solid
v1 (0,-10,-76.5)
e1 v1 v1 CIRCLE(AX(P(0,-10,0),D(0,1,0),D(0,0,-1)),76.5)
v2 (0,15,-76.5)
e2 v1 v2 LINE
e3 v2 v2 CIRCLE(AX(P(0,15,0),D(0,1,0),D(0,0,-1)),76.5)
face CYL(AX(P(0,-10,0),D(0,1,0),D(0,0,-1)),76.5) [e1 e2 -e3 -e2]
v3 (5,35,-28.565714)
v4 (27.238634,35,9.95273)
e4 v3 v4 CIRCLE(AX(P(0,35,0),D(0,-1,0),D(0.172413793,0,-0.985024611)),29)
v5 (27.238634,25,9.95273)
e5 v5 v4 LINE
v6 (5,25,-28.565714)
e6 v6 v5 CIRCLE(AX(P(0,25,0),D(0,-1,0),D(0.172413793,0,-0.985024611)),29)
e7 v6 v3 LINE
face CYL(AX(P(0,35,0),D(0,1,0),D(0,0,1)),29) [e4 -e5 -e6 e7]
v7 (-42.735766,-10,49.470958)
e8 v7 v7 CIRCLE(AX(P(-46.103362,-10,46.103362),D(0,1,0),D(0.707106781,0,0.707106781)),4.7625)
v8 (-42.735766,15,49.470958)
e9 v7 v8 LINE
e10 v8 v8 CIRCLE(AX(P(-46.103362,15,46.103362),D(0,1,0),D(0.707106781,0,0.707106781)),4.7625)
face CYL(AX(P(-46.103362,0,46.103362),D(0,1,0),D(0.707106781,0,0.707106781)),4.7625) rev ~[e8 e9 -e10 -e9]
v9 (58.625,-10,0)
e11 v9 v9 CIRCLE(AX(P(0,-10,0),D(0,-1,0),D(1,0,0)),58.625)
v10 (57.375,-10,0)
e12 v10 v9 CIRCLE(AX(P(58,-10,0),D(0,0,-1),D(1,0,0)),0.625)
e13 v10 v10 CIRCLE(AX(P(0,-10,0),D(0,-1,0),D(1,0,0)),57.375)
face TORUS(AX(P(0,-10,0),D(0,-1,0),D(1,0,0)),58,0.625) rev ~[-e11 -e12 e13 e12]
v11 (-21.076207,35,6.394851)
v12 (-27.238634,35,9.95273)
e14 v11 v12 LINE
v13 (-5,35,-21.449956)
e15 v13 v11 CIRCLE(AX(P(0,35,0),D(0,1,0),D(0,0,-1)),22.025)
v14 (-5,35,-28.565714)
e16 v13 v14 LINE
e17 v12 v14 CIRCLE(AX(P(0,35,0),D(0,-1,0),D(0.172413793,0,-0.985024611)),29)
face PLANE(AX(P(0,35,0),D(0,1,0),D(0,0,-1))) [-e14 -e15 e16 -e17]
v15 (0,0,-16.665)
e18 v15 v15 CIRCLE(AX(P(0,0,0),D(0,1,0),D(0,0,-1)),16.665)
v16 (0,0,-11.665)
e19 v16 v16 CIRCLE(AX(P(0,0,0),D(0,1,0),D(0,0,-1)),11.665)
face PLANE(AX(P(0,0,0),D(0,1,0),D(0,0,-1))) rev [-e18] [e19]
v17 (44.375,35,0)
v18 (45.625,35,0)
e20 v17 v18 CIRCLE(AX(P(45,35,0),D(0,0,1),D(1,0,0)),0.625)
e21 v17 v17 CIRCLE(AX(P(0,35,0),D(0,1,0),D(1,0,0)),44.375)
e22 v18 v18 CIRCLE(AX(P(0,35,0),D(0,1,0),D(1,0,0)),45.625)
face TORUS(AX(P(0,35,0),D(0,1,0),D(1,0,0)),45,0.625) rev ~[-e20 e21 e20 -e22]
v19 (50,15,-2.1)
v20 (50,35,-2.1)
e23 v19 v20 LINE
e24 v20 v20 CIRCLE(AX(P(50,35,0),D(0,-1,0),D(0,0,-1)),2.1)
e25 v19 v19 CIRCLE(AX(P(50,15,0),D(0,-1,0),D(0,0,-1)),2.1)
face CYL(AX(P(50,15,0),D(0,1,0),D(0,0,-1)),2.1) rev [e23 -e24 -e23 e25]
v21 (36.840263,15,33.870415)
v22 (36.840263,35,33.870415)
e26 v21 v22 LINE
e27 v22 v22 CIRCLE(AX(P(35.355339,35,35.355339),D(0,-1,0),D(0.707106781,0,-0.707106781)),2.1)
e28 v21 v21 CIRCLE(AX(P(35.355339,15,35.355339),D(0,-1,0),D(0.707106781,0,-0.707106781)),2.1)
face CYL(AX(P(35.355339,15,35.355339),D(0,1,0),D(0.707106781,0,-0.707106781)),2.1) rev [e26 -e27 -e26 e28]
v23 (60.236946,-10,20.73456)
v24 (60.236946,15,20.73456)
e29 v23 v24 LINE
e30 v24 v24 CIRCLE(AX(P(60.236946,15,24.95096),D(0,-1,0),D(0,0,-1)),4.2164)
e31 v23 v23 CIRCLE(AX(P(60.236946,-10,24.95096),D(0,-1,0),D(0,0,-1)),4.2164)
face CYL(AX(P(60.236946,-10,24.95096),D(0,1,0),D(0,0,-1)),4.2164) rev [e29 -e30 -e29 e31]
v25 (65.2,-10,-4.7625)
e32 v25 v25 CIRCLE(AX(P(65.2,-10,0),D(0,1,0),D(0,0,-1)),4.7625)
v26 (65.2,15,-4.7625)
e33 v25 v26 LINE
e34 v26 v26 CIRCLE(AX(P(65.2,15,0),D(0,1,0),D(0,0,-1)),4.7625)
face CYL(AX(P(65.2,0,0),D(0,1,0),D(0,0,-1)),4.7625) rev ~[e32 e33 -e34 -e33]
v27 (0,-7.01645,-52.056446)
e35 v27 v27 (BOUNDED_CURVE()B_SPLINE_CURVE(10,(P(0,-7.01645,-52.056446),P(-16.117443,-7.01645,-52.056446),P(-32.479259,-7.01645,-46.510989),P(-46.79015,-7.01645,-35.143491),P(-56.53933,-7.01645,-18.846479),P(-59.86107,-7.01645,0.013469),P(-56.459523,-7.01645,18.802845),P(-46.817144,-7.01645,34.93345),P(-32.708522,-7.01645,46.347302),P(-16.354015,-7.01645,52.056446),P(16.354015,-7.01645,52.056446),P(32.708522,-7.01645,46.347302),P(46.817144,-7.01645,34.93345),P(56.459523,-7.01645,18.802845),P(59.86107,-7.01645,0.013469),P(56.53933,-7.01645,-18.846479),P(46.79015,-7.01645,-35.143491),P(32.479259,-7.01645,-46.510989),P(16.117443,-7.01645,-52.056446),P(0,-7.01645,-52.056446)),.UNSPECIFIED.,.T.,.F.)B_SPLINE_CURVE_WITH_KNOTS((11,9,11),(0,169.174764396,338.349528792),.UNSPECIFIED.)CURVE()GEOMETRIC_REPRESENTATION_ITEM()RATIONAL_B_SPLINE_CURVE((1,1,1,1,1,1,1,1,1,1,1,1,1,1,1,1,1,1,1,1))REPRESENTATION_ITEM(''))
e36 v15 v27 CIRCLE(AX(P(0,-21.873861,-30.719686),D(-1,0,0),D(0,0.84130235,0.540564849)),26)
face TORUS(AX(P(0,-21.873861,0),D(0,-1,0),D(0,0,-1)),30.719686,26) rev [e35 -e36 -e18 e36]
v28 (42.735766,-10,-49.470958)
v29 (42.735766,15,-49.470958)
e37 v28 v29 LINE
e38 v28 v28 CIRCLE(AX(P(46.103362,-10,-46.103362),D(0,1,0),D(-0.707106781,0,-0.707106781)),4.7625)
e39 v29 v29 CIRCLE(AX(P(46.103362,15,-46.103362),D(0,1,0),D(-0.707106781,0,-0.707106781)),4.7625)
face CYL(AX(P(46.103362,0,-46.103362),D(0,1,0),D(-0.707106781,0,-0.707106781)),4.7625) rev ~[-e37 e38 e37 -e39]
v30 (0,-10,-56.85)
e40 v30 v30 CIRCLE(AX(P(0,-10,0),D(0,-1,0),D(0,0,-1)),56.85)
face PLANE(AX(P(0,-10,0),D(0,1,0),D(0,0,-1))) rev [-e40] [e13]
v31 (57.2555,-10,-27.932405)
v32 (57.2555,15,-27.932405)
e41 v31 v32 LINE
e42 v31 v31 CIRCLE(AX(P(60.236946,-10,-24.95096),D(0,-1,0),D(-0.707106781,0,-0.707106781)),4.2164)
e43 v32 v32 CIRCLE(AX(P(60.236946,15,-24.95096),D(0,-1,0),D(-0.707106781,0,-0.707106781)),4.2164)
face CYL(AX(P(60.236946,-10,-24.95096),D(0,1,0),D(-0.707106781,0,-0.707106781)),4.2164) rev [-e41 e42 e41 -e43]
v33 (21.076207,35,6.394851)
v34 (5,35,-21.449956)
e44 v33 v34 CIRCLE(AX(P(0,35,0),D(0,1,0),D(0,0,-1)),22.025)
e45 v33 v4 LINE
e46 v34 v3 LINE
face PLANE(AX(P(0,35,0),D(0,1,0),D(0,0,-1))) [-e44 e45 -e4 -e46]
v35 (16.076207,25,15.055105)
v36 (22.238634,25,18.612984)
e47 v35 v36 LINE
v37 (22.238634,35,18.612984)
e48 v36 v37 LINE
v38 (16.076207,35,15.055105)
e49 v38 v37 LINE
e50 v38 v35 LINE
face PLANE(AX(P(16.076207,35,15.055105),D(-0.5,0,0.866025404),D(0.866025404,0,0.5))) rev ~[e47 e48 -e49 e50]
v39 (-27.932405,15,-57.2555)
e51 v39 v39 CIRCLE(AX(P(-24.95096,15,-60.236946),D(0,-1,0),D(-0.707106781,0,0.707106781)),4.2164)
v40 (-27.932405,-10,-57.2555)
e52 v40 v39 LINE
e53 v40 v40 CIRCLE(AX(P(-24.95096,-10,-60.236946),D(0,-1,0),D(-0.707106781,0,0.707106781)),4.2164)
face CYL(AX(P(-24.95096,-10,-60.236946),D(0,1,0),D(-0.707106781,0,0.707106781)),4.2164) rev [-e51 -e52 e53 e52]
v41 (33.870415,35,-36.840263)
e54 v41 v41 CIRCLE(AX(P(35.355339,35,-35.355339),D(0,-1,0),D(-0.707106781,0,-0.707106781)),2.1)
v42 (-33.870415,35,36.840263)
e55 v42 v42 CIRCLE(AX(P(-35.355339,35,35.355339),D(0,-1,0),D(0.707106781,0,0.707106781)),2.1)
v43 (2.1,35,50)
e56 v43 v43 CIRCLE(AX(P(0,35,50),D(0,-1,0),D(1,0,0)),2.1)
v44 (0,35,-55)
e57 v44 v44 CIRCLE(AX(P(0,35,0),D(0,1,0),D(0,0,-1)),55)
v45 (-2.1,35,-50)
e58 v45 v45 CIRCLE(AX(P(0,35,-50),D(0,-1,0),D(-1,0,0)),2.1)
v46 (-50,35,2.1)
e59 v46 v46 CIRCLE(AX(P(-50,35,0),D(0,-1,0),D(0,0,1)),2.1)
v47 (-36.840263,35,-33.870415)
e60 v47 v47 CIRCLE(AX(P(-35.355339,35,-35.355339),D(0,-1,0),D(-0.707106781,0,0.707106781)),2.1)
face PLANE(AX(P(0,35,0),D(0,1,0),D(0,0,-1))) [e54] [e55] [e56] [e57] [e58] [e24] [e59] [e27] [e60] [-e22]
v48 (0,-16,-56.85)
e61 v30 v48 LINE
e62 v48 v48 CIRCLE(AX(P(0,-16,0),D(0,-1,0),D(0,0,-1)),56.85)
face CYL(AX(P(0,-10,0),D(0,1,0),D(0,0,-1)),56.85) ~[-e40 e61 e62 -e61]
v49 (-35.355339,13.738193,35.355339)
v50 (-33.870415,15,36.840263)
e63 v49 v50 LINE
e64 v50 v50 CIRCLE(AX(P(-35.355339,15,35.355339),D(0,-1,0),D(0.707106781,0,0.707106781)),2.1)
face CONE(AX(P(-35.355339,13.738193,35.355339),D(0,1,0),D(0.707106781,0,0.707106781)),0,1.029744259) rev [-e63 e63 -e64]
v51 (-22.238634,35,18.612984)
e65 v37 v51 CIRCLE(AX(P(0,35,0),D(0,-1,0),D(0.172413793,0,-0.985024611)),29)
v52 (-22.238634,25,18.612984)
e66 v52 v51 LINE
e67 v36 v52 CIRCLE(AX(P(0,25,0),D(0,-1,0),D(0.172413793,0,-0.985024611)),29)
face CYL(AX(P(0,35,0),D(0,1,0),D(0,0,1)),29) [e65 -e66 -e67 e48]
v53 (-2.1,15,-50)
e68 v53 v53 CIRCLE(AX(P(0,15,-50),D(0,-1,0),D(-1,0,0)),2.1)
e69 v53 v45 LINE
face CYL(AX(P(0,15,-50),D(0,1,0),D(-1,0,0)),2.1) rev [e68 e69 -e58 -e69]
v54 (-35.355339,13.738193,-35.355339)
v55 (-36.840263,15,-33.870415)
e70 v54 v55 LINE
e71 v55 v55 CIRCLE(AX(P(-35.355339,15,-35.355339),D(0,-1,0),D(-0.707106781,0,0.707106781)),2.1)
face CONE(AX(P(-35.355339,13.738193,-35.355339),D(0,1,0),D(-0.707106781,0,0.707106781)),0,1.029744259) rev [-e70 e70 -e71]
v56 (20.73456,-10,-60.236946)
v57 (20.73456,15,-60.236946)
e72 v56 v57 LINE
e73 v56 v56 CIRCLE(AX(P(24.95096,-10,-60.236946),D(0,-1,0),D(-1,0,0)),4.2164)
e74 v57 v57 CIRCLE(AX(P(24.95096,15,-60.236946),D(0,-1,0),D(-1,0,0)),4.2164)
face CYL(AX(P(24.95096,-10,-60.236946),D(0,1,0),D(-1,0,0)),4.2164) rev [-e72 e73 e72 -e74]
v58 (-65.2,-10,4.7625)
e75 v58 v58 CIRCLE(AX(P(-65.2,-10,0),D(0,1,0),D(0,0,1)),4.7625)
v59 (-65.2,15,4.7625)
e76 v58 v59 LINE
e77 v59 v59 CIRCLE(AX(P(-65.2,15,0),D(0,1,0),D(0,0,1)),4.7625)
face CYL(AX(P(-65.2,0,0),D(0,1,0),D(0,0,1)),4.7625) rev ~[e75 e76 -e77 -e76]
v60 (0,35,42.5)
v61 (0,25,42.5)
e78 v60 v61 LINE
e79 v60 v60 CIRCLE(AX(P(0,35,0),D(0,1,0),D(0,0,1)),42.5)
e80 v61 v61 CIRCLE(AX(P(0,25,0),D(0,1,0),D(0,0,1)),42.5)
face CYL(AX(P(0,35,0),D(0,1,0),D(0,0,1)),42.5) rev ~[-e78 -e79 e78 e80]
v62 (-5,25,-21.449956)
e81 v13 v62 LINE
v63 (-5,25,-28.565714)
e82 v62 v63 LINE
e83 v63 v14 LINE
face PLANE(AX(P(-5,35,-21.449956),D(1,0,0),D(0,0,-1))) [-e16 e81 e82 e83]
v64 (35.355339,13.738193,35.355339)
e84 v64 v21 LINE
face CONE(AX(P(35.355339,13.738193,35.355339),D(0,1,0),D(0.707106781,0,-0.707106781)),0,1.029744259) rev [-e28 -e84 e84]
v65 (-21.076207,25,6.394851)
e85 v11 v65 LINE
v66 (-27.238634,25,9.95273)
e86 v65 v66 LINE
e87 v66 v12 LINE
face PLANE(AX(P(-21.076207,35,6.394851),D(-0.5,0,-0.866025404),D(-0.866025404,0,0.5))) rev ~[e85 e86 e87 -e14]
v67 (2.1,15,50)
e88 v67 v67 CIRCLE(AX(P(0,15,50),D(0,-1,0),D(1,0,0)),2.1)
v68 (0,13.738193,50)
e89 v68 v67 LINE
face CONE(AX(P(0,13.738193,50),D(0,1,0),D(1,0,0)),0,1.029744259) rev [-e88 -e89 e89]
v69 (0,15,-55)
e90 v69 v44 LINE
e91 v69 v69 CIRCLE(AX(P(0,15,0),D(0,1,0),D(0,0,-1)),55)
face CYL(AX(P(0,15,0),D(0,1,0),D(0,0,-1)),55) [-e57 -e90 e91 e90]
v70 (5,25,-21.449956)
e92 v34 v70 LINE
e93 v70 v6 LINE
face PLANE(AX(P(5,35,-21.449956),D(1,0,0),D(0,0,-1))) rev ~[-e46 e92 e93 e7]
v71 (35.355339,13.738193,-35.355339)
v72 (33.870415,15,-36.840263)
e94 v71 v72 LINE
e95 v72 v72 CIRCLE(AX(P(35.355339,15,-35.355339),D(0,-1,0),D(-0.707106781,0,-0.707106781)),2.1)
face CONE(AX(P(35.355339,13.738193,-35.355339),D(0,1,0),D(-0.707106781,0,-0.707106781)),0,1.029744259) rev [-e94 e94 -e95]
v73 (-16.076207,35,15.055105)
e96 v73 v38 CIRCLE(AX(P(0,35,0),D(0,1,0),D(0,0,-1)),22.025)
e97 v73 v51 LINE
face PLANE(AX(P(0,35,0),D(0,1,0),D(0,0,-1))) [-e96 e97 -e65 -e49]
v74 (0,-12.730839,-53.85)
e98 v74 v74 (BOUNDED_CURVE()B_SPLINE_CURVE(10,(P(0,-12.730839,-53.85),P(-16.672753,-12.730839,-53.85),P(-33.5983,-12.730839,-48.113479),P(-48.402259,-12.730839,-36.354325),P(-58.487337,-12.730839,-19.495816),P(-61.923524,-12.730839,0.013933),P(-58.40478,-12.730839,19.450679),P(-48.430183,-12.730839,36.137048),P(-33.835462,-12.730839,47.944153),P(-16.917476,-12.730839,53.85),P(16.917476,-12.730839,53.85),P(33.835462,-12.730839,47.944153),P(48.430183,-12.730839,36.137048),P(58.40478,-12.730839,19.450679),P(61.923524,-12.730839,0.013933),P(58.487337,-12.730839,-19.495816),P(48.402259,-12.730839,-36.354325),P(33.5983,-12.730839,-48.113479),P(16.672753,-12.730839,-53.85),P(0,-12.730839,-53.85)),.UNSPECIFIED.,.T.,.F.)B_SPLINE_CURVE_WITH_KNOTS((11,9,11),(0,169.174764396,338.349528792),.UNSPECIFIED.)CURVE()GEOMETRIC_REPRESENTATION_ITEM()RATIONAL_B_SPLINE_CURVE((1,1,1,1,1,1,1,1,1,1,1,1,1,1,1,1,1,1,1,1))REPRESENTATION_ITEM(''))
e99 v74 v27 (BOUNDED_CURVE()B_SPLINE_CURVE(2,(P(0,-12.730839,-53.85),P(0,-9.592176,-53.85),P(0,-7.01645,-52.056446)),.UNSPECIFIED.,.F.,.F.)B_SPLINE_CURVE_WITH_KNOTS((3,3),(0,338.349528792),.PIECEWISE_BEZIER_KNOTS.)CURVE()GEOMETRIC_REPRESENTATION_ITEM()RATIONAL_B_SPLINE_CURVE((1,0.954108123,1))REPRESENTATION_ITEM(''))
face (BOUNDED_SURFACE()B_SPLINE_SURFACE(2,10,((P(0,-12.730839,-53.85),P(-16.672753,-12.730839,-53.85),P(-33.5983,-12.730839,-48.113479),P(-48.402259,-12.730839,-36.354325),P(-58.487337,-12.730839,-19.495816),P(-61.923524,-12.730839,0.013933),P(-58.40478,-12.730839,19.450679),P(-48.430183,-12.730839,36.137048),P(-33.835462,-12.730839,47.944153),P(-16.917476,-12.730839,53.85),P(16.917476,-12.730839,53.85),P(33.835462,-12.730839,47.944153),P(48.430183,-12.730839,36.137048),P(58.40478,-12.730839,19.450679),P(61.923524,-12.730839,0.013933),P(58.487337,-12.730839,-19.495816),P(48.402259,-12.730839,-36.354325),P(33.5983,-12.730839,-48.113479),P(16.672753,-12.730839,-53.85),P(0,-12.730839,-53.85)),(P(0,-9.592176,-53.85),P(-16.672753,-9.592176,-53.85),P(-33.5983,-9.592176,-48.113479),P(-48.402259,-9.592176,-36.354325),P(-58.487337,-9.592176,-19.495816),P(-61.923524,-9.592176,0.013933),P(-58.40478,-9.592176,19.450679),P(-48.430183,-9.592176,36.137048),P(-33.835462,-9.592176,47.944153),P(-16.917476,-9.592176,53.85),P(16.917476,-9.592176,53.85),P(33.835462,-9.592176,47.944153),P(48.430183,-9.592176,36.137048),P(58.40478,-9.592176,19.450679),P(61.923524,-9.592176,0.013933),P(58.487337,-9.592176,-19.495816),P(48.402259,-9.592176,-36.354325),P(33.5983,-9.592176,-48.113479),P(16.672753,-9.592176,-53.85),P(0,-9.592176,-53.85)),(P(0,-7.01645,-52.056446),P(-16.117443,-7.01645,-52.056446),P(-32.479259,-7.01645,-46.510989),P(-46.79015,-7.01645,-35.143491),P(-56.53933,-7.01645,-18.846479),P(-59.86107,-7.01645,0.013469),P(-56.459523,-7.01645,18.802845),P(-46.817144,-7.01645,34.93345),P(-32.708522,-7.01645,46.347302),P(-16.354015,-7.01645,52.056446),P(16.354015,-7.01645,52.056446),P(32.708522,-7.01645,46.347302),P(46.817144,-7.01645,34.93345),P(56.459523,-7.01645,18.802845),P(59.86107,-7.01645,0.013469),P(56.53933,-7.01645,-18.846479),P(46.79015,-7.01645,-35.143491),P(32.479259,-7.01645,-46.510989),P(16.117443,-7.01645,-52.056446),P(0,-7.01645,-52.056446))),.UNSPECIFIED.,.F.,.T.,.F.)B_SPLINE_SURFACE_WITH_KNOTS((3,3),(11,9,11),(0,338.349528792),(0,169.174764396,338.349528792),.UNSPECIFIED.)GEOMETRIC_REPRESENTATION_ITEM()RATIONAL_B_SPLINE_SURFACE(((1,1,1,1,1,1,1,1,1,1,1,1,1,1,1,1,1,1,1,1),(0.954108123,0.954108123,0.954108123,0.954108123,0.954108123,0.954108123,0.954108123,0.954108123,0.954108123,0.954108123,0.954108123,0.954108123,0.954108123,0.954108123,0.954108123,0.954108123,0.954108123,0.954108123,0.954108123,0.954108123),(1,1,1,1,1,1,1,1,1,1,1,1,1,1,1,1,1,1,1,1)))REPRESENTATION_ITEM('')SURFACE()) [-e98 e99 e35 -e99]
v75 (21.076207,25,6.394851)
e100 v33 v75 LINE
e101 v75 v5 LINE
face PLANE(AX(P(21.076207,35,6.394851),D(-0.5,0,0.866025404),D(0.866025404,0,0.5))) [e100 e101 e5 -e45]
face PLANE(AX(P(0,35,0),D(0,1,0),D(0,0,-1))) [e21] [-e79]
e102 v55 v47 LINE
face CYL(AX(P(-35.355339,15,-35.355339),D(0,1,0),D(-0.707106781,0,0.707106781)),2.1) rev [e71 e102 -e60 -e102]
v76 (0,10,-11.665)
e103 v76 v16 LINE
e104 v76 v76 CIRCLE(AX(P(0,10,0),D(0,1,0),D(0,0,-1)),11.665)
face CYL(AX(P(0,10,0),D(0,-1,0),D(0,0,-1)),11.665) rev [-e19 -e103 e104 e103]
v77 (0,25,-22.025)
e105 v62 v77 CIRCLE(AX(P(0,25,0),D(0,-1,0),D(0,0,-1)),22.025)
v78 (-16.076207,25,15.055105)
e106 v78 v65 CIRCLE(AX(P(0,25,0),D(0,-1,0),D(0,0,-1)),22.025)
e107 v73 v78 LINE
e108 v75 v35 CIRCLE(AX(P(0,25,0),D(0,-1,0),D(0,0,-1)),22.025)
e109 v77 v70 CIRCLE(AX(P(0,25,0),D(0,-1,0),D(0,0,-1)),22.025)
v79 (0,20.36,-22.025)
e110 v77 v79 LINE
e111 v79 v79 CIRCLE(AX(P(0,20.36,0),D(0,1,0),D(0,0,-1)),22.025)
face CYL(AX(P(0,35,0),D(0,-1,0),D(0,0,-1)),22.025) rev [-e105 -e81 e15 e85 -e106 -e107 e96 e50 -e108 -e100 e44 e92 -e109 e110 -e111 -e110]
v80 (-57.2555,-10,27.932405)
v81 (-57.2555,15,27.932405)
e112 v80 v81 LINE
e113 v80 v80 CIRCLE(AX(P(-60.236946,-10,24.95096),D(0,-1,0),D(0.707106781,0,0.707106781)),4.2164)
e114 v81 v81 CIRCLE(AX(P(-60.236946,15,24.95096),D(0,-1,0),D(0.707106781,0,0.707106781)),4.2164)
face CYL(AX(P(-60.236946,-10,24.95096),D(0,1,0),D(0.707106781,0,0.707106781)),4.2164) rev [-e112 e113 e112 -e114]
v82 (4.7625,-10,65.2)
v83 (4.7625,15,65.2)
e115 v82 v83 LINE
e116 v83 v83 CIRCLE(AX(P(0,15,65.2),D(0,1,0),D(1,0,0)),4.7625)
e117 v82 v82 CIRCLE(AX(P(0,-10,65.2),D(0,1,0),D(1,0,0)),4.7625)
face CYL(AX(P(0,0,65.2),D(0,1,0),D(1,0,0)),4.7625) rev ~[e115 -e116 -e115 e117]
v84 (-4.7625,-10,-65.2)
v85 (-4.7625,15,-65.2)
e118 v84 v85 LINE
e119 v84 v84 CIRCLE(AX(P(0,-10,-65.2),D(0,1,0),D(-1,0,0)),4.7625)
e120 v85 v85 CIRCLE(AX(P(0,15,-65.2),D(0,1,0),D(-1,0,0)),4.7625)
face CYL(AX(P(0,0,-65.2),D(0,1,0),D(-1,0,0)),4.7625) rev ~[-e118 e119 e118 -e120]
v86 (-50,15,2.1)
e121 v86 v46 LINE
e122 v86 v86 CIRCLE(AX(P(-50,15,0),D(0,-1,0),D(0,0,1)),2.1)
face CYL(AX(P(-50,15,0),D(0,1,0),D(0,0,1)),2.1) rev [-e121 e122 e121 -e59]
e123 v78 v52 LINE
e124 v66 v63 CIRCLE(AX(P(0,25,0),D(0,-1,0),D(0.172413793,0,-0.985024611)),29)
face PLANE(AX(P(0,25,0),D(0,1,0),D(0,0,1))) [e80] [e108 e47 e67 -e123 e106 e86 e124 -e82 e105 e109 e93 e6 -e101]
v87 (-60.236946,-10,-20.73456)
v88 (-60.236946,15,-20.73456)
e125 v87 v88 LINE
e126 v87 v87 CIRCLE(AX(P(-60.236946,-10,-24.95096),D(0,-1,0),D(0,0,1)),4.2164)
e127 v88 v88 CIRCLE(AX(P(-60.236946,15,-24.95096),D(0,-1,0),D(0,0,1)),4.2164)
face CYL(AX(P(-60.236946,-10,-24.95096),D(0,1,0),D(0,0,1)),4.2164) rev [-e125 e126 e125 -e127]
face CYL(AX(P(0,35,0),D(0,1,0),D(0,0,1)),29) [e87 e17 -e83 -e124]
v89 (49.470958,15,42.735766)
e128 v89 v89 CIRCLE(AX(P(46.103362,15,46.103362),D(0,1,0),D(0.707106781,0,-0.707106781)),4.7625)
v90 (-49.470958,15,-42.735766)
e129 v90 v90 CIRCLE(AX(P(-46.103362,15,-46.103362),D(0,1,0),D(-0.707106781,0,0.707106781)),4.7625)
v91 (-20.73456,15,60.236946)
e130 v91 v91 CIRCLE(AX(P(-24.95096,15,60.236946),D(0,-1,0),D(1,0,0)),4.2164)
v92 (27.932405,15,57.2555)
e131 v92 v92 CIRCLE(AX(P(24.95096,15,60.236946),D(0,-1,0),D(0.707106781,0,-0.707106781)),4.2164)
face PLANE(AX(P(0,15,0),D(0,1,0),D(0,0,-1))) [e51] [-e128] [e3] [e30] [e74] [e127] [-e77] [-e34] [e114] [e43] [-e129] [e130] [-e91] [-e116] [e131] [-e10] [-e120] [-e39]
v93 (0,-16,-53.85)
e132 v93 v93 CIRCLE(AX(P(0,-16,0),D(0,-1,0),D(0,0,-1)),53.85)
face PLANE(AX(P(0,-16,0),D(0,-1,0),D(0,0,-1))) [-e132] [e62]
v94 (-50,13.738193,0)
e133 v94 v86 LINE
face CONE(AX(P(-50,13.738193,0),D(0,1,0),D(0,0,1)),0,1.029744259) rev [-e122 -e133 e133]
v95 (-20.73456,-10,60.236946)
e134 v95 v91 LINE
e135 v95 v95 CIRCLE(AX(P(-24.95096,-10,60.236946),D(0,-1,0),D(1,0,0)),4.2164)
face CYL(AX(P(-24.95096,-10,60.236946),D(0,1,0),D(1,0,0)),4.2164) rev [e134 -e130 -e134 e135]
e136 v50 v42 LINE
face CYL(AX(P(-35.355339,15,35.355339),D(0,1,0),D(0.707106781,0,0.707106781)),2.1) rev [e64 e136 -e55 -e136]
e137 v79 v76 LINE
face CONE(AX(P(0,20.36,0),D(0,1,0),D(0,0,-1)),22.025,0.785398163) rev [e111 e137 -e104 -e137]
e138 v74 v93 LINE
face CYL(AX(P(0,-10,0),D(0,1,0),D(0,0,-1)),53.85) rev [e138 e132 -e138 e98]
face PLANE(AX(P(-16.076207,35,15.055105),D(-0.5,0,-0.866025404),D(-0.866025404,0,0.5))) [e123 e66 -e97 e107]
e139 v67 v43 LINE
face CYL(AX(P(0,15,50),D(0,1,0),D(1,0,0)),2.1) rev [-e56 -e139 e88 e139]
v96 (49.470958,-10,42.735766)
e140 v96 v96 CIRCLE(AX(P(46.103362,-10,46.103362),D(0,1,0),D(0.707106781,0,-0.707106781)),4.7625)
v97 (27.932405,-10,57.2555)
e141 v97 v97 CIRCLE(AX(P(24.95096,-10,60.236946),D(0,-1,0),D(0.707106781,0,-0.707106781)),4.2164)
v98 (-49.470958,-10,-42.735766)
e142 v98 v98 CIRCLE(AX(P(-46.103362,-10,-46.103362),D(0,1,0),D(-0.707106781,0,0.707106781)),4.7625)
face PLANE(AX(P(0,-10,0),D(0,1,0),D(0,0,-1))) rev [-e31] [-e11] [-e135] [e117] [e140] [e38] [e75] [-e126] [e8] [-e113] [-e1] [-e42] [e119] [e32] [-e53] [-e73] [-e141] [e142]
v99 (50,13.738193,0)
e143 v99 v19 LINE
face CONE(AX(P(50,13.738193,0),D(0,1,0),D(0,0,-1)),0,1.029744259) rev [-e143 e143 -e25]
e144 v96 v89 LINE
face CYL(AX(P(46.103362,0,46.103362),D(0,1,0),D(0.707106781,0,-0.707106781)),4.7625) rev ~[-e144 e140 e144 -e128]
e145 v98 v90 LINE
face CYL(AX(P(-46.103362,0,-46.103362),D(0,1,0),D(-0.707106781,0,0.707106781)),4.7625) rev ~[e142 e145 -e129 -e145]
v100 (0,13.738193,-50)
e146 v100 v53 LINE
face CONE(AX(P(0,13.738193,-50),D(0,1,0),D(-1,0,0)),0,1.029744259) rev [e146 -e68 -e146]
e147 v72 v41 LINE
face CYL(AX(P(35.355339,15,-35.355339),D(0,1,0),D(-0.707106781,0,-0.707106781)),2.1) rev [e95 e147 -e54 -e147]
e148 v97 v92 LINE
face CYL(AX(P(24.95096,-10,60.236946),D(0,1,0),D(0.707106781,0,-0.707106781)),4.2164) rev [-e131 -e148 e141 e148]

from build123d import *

# Parameters (mm, degrees)
SKETCH4_R            = 4.7625
CUT_EXTRUDE2_DEPTH   = 114.707959264
CIRPATTERN1_COUNT    = 8
SKETCH6_R            = 42.5
SKETCH6_R_2          = 29
CUT_EXTRUDE3_DEPTH   = 10
SKETCH7_W            = 10
SKETCH7_H            = 7.550043706
CUT_EXTRUDE4_DEPTH   = 10
CIRPATTERN2_COUNT    = 3
CIRPATTERN4_COUNT    = 8
CIRPATTERN5_COUNT    = 8
SKETCH25_R           = 56.85
SKETCH25_R_2         = 53.85
BOSS_EXTRUDE1_DEPTH  = 6
FILLET1_R            = 10
CUT_SWEEP1_PROFILE_R = 0.625
CUT_SWEEP2_PROFILE_R = 0.625


with BuildPart() as part:
    # Sketch3 → Revolve1 (revolve)
    with BuildSketch(Plane(origin=(0, 0, 0), x_dir=(0, 0, -1), z_dir=(1, 0, 0))):
        with BuildLine():
            Line((76.5, 15), (55, 15))
            Line((55, 15), (55, 35))
            Line((55, 35), (22.025, 35))
            Line((22.025, 35), (22.025, 20.36))
            Line((22.025, 20.36), (11.665, 10))
            Line((11.665, 10), (11.665, 0))
            Line((11.665, 0), (16.665, 0))
            ThreePointArc((16.665, 0), (37.471852779, 3.234070807), (53.85, -10))
            Line((53.85, -10), (76.5, -10))
            Line((76.5, -10), (76.5, 15))
        make_face()
    revolve(axis=Axis((0, 0, 0), (0, 1, 0)))

    # Sketch4 → Cut-Extrude2 (cut, symmetric)
    with BuildSketch(Plane(origin=(0, 0, 0), x_dir=(1, 0, 0), z_dir=(0, 1, 0))):
        with Locations(Location((-65.2, 0, 0), (0, 0, 270))):
            Circle(SKETCH4_R)
    cut_extrude2 = extrude(amount=CUT_EXTRUDE2_DEPTH, both=True, mode=Mode.SUBTRACT)

    # CirPattern1: Cut-Extrude2 ×8 about axis
    cirpattern1_axis = Axis((0, 0, 0), (0, 1, 0))
    for i in range(1, CIRPATTERN1_COUNT):
        add(cut_extrude2.rotate(cirpattern1_axis, i * 360 / CIRPATTERN1_COUNT), mode=Mode.SUBTRACT)

    # Sketch6 → Cut-Extrude3 (cut)
    with BuildSketch(Plane(origin=(0, 35, 0), x_dir=(1, 0, 0), z_dir=(0, 1, 0))):
        with Locations(Location((0, 0, 0), (0, 0, 270))):
            Circle(SKETCH6_R)
        with Locations(Location((0, 0, 0), (0, 0, 270))):
            Circle(SKETCH6_R_2, mode=Mode.SUBTRACT)
    extrude(amount=-CUT_EXTRUDE3_DEPTH, mode=Mode.SUBTRACT)

    # Sketch7 → Cut-Extrude4 (cut)
    with BuildSketch(Plane(origin=(0, 35, 0), x_dir=(1, 0, 0), z_dir=(0, 1, 0))):
        with Locations((0, 25.224978147)):
            Rectangle(SKETCH7_W, SKETCH7_H)
    cut_extrude4 = extrude(amount=-CUT_EXTRUDE4_DEPTH, mode=Mode.SUBTRACT)

    # CirPattern2: Cut-Extrude4 ×3 about axis
    cirpattern2_axis = Axis((0, 0, 0), (0, 1, 0))
    for i in range(1, CIRPATTERN2_COUNT):
        add(cut_extrude4.rotate(cirpattern2_axis, i * 360 / CIRPATTERN2_COUNT), mode=Mode.SUBTRACT)

    # Sketch15 → Tap Drill for 3/8-24 Tap1 (revolve, cut)
    with BuildSketch(Plane(origin=(-60.23694552, 15, -24.95095979), x_dir=(0, 0, 1), z_dir=(1, 0, 0))):
        Polygon((0, 0), (0, 27.533468714), (4.2164, 25), (4.2164, 0), align=None)
    tap_drill_for_3_8_24_tap1 = revolve(axis=Axis((-60.23694552, 21.35, -24.95095979), (0, -1, 0)), mode=Mode.SUBTRACT)

    # CirPattern4: Tap Drill for 3/8-24 Tap1 ×8 about axis
    cirpattern4_axis = Axis((0, 0, 0), (0, 1, 0))
    for i in range(1, CIRPATTERN4_COUNT):
        add(tap_drill_for_3_8_24_tap1.rotate(cirpattern4_axis, i * 360 / CIRPATTERN4_COUNT), mode=Mode.SUBTRACT)

    # Sketch20 → Tap Drill for M5x0.8 Tap1 (revolve, cut)
    with BuildSketch(Plane(origin=(-50, 35, 0), x_dir=(0, 0, 1), z_dir=(1, 0, 0))):
        Polygon((0, 0), (0, 21.2618073), (2.1, 20), (2.1, 0), align=None)
    tap_drill_for_m5x0_8_tap1 = revolve(axis=Axis((-50, 41.35, 0), (0, -1, 0)), mode=Mode.SUBTRACT)

    # CirPattern5: Tap Drill for M5x0.8 Tap1 ×8 about axis
    cirpattern5_axis = Axis((0, 0, 0), (0, 1, 0))
    for i in range(1, CIRPATTERN5_COUNT):
        add(tap_drill_for_m5x0_8_tap1.rotate(cirpattern5_axis, i * 360 / CIRPATTERN5_COUNT), mode=Mode.SUBTRACT)

    # Sketch25 → Boss-Extrude1 (add)
    with BuildSketch(Plane.XZ.offset(10)):
        with Locations(Location((0, 0, 0), (0, 0, 270))):
            Circle(SKETCH25_R)
        with Locations(Location((0, 0, 0), (0, 0, 270))):
            Circle(SKETCH25_R_2, mode=Mode.SUBTRACT)
    extrude(amount=BOSS_EXTRUDE1_DEPTH)

    # Fillet1
    fillet1_edges = [part.edges().sort_by_distance(p)[0] for p in [
        (0, -10, 53.85),
    ]]
    fillet(fillet1_edges, radius=FILLET1_R)

    # Cut-Sweep1: sweep along a path in Sketch26
    with BuildLine(Plane.XZ.offset(10)) as cut_sweep1_path:
        CenterArc((0, 0), 58, 0, 360)
    # Cut-Sweep1 profile (on start of the path) → Cut-Sweep1 (sweep, cut)
    with BuildSketch(Plane(origin=(58, -10, 0), x_dir=(1, 0, 0), z_dir=(0, 0, 1))):
        Circle(CUT_SWEEP1_PROFILE_R)
    sweep(path=cut_sweep1_path.line, mode=Mode.SUBTRACT)

    # Cut-Sweep2: sweep along a path in Sketch10
    with BuildLine(Plane(origin=(0, 35, 0), x_dir=(1, 0, 0), z_dir=(0, 1, 0))) as cut_sweep2_path:
        CenterArc((0, 0), 45, 0, 360)
    # Cut-Sweep2 profile (on start of the path) → Cut-Sweep2 (sweep, cut)
    with BuildSketch(Plane(origin=(45, 35, 0), x_dir=(-1, 0, 0), z_dir=(0, 0, -1))):
        Circle(CUT_SWEEP2_PROFILE_R)
    sweep(path=cut_sweep2_path.line, mode=Mode.SUBTRACT)


solid = part.part
